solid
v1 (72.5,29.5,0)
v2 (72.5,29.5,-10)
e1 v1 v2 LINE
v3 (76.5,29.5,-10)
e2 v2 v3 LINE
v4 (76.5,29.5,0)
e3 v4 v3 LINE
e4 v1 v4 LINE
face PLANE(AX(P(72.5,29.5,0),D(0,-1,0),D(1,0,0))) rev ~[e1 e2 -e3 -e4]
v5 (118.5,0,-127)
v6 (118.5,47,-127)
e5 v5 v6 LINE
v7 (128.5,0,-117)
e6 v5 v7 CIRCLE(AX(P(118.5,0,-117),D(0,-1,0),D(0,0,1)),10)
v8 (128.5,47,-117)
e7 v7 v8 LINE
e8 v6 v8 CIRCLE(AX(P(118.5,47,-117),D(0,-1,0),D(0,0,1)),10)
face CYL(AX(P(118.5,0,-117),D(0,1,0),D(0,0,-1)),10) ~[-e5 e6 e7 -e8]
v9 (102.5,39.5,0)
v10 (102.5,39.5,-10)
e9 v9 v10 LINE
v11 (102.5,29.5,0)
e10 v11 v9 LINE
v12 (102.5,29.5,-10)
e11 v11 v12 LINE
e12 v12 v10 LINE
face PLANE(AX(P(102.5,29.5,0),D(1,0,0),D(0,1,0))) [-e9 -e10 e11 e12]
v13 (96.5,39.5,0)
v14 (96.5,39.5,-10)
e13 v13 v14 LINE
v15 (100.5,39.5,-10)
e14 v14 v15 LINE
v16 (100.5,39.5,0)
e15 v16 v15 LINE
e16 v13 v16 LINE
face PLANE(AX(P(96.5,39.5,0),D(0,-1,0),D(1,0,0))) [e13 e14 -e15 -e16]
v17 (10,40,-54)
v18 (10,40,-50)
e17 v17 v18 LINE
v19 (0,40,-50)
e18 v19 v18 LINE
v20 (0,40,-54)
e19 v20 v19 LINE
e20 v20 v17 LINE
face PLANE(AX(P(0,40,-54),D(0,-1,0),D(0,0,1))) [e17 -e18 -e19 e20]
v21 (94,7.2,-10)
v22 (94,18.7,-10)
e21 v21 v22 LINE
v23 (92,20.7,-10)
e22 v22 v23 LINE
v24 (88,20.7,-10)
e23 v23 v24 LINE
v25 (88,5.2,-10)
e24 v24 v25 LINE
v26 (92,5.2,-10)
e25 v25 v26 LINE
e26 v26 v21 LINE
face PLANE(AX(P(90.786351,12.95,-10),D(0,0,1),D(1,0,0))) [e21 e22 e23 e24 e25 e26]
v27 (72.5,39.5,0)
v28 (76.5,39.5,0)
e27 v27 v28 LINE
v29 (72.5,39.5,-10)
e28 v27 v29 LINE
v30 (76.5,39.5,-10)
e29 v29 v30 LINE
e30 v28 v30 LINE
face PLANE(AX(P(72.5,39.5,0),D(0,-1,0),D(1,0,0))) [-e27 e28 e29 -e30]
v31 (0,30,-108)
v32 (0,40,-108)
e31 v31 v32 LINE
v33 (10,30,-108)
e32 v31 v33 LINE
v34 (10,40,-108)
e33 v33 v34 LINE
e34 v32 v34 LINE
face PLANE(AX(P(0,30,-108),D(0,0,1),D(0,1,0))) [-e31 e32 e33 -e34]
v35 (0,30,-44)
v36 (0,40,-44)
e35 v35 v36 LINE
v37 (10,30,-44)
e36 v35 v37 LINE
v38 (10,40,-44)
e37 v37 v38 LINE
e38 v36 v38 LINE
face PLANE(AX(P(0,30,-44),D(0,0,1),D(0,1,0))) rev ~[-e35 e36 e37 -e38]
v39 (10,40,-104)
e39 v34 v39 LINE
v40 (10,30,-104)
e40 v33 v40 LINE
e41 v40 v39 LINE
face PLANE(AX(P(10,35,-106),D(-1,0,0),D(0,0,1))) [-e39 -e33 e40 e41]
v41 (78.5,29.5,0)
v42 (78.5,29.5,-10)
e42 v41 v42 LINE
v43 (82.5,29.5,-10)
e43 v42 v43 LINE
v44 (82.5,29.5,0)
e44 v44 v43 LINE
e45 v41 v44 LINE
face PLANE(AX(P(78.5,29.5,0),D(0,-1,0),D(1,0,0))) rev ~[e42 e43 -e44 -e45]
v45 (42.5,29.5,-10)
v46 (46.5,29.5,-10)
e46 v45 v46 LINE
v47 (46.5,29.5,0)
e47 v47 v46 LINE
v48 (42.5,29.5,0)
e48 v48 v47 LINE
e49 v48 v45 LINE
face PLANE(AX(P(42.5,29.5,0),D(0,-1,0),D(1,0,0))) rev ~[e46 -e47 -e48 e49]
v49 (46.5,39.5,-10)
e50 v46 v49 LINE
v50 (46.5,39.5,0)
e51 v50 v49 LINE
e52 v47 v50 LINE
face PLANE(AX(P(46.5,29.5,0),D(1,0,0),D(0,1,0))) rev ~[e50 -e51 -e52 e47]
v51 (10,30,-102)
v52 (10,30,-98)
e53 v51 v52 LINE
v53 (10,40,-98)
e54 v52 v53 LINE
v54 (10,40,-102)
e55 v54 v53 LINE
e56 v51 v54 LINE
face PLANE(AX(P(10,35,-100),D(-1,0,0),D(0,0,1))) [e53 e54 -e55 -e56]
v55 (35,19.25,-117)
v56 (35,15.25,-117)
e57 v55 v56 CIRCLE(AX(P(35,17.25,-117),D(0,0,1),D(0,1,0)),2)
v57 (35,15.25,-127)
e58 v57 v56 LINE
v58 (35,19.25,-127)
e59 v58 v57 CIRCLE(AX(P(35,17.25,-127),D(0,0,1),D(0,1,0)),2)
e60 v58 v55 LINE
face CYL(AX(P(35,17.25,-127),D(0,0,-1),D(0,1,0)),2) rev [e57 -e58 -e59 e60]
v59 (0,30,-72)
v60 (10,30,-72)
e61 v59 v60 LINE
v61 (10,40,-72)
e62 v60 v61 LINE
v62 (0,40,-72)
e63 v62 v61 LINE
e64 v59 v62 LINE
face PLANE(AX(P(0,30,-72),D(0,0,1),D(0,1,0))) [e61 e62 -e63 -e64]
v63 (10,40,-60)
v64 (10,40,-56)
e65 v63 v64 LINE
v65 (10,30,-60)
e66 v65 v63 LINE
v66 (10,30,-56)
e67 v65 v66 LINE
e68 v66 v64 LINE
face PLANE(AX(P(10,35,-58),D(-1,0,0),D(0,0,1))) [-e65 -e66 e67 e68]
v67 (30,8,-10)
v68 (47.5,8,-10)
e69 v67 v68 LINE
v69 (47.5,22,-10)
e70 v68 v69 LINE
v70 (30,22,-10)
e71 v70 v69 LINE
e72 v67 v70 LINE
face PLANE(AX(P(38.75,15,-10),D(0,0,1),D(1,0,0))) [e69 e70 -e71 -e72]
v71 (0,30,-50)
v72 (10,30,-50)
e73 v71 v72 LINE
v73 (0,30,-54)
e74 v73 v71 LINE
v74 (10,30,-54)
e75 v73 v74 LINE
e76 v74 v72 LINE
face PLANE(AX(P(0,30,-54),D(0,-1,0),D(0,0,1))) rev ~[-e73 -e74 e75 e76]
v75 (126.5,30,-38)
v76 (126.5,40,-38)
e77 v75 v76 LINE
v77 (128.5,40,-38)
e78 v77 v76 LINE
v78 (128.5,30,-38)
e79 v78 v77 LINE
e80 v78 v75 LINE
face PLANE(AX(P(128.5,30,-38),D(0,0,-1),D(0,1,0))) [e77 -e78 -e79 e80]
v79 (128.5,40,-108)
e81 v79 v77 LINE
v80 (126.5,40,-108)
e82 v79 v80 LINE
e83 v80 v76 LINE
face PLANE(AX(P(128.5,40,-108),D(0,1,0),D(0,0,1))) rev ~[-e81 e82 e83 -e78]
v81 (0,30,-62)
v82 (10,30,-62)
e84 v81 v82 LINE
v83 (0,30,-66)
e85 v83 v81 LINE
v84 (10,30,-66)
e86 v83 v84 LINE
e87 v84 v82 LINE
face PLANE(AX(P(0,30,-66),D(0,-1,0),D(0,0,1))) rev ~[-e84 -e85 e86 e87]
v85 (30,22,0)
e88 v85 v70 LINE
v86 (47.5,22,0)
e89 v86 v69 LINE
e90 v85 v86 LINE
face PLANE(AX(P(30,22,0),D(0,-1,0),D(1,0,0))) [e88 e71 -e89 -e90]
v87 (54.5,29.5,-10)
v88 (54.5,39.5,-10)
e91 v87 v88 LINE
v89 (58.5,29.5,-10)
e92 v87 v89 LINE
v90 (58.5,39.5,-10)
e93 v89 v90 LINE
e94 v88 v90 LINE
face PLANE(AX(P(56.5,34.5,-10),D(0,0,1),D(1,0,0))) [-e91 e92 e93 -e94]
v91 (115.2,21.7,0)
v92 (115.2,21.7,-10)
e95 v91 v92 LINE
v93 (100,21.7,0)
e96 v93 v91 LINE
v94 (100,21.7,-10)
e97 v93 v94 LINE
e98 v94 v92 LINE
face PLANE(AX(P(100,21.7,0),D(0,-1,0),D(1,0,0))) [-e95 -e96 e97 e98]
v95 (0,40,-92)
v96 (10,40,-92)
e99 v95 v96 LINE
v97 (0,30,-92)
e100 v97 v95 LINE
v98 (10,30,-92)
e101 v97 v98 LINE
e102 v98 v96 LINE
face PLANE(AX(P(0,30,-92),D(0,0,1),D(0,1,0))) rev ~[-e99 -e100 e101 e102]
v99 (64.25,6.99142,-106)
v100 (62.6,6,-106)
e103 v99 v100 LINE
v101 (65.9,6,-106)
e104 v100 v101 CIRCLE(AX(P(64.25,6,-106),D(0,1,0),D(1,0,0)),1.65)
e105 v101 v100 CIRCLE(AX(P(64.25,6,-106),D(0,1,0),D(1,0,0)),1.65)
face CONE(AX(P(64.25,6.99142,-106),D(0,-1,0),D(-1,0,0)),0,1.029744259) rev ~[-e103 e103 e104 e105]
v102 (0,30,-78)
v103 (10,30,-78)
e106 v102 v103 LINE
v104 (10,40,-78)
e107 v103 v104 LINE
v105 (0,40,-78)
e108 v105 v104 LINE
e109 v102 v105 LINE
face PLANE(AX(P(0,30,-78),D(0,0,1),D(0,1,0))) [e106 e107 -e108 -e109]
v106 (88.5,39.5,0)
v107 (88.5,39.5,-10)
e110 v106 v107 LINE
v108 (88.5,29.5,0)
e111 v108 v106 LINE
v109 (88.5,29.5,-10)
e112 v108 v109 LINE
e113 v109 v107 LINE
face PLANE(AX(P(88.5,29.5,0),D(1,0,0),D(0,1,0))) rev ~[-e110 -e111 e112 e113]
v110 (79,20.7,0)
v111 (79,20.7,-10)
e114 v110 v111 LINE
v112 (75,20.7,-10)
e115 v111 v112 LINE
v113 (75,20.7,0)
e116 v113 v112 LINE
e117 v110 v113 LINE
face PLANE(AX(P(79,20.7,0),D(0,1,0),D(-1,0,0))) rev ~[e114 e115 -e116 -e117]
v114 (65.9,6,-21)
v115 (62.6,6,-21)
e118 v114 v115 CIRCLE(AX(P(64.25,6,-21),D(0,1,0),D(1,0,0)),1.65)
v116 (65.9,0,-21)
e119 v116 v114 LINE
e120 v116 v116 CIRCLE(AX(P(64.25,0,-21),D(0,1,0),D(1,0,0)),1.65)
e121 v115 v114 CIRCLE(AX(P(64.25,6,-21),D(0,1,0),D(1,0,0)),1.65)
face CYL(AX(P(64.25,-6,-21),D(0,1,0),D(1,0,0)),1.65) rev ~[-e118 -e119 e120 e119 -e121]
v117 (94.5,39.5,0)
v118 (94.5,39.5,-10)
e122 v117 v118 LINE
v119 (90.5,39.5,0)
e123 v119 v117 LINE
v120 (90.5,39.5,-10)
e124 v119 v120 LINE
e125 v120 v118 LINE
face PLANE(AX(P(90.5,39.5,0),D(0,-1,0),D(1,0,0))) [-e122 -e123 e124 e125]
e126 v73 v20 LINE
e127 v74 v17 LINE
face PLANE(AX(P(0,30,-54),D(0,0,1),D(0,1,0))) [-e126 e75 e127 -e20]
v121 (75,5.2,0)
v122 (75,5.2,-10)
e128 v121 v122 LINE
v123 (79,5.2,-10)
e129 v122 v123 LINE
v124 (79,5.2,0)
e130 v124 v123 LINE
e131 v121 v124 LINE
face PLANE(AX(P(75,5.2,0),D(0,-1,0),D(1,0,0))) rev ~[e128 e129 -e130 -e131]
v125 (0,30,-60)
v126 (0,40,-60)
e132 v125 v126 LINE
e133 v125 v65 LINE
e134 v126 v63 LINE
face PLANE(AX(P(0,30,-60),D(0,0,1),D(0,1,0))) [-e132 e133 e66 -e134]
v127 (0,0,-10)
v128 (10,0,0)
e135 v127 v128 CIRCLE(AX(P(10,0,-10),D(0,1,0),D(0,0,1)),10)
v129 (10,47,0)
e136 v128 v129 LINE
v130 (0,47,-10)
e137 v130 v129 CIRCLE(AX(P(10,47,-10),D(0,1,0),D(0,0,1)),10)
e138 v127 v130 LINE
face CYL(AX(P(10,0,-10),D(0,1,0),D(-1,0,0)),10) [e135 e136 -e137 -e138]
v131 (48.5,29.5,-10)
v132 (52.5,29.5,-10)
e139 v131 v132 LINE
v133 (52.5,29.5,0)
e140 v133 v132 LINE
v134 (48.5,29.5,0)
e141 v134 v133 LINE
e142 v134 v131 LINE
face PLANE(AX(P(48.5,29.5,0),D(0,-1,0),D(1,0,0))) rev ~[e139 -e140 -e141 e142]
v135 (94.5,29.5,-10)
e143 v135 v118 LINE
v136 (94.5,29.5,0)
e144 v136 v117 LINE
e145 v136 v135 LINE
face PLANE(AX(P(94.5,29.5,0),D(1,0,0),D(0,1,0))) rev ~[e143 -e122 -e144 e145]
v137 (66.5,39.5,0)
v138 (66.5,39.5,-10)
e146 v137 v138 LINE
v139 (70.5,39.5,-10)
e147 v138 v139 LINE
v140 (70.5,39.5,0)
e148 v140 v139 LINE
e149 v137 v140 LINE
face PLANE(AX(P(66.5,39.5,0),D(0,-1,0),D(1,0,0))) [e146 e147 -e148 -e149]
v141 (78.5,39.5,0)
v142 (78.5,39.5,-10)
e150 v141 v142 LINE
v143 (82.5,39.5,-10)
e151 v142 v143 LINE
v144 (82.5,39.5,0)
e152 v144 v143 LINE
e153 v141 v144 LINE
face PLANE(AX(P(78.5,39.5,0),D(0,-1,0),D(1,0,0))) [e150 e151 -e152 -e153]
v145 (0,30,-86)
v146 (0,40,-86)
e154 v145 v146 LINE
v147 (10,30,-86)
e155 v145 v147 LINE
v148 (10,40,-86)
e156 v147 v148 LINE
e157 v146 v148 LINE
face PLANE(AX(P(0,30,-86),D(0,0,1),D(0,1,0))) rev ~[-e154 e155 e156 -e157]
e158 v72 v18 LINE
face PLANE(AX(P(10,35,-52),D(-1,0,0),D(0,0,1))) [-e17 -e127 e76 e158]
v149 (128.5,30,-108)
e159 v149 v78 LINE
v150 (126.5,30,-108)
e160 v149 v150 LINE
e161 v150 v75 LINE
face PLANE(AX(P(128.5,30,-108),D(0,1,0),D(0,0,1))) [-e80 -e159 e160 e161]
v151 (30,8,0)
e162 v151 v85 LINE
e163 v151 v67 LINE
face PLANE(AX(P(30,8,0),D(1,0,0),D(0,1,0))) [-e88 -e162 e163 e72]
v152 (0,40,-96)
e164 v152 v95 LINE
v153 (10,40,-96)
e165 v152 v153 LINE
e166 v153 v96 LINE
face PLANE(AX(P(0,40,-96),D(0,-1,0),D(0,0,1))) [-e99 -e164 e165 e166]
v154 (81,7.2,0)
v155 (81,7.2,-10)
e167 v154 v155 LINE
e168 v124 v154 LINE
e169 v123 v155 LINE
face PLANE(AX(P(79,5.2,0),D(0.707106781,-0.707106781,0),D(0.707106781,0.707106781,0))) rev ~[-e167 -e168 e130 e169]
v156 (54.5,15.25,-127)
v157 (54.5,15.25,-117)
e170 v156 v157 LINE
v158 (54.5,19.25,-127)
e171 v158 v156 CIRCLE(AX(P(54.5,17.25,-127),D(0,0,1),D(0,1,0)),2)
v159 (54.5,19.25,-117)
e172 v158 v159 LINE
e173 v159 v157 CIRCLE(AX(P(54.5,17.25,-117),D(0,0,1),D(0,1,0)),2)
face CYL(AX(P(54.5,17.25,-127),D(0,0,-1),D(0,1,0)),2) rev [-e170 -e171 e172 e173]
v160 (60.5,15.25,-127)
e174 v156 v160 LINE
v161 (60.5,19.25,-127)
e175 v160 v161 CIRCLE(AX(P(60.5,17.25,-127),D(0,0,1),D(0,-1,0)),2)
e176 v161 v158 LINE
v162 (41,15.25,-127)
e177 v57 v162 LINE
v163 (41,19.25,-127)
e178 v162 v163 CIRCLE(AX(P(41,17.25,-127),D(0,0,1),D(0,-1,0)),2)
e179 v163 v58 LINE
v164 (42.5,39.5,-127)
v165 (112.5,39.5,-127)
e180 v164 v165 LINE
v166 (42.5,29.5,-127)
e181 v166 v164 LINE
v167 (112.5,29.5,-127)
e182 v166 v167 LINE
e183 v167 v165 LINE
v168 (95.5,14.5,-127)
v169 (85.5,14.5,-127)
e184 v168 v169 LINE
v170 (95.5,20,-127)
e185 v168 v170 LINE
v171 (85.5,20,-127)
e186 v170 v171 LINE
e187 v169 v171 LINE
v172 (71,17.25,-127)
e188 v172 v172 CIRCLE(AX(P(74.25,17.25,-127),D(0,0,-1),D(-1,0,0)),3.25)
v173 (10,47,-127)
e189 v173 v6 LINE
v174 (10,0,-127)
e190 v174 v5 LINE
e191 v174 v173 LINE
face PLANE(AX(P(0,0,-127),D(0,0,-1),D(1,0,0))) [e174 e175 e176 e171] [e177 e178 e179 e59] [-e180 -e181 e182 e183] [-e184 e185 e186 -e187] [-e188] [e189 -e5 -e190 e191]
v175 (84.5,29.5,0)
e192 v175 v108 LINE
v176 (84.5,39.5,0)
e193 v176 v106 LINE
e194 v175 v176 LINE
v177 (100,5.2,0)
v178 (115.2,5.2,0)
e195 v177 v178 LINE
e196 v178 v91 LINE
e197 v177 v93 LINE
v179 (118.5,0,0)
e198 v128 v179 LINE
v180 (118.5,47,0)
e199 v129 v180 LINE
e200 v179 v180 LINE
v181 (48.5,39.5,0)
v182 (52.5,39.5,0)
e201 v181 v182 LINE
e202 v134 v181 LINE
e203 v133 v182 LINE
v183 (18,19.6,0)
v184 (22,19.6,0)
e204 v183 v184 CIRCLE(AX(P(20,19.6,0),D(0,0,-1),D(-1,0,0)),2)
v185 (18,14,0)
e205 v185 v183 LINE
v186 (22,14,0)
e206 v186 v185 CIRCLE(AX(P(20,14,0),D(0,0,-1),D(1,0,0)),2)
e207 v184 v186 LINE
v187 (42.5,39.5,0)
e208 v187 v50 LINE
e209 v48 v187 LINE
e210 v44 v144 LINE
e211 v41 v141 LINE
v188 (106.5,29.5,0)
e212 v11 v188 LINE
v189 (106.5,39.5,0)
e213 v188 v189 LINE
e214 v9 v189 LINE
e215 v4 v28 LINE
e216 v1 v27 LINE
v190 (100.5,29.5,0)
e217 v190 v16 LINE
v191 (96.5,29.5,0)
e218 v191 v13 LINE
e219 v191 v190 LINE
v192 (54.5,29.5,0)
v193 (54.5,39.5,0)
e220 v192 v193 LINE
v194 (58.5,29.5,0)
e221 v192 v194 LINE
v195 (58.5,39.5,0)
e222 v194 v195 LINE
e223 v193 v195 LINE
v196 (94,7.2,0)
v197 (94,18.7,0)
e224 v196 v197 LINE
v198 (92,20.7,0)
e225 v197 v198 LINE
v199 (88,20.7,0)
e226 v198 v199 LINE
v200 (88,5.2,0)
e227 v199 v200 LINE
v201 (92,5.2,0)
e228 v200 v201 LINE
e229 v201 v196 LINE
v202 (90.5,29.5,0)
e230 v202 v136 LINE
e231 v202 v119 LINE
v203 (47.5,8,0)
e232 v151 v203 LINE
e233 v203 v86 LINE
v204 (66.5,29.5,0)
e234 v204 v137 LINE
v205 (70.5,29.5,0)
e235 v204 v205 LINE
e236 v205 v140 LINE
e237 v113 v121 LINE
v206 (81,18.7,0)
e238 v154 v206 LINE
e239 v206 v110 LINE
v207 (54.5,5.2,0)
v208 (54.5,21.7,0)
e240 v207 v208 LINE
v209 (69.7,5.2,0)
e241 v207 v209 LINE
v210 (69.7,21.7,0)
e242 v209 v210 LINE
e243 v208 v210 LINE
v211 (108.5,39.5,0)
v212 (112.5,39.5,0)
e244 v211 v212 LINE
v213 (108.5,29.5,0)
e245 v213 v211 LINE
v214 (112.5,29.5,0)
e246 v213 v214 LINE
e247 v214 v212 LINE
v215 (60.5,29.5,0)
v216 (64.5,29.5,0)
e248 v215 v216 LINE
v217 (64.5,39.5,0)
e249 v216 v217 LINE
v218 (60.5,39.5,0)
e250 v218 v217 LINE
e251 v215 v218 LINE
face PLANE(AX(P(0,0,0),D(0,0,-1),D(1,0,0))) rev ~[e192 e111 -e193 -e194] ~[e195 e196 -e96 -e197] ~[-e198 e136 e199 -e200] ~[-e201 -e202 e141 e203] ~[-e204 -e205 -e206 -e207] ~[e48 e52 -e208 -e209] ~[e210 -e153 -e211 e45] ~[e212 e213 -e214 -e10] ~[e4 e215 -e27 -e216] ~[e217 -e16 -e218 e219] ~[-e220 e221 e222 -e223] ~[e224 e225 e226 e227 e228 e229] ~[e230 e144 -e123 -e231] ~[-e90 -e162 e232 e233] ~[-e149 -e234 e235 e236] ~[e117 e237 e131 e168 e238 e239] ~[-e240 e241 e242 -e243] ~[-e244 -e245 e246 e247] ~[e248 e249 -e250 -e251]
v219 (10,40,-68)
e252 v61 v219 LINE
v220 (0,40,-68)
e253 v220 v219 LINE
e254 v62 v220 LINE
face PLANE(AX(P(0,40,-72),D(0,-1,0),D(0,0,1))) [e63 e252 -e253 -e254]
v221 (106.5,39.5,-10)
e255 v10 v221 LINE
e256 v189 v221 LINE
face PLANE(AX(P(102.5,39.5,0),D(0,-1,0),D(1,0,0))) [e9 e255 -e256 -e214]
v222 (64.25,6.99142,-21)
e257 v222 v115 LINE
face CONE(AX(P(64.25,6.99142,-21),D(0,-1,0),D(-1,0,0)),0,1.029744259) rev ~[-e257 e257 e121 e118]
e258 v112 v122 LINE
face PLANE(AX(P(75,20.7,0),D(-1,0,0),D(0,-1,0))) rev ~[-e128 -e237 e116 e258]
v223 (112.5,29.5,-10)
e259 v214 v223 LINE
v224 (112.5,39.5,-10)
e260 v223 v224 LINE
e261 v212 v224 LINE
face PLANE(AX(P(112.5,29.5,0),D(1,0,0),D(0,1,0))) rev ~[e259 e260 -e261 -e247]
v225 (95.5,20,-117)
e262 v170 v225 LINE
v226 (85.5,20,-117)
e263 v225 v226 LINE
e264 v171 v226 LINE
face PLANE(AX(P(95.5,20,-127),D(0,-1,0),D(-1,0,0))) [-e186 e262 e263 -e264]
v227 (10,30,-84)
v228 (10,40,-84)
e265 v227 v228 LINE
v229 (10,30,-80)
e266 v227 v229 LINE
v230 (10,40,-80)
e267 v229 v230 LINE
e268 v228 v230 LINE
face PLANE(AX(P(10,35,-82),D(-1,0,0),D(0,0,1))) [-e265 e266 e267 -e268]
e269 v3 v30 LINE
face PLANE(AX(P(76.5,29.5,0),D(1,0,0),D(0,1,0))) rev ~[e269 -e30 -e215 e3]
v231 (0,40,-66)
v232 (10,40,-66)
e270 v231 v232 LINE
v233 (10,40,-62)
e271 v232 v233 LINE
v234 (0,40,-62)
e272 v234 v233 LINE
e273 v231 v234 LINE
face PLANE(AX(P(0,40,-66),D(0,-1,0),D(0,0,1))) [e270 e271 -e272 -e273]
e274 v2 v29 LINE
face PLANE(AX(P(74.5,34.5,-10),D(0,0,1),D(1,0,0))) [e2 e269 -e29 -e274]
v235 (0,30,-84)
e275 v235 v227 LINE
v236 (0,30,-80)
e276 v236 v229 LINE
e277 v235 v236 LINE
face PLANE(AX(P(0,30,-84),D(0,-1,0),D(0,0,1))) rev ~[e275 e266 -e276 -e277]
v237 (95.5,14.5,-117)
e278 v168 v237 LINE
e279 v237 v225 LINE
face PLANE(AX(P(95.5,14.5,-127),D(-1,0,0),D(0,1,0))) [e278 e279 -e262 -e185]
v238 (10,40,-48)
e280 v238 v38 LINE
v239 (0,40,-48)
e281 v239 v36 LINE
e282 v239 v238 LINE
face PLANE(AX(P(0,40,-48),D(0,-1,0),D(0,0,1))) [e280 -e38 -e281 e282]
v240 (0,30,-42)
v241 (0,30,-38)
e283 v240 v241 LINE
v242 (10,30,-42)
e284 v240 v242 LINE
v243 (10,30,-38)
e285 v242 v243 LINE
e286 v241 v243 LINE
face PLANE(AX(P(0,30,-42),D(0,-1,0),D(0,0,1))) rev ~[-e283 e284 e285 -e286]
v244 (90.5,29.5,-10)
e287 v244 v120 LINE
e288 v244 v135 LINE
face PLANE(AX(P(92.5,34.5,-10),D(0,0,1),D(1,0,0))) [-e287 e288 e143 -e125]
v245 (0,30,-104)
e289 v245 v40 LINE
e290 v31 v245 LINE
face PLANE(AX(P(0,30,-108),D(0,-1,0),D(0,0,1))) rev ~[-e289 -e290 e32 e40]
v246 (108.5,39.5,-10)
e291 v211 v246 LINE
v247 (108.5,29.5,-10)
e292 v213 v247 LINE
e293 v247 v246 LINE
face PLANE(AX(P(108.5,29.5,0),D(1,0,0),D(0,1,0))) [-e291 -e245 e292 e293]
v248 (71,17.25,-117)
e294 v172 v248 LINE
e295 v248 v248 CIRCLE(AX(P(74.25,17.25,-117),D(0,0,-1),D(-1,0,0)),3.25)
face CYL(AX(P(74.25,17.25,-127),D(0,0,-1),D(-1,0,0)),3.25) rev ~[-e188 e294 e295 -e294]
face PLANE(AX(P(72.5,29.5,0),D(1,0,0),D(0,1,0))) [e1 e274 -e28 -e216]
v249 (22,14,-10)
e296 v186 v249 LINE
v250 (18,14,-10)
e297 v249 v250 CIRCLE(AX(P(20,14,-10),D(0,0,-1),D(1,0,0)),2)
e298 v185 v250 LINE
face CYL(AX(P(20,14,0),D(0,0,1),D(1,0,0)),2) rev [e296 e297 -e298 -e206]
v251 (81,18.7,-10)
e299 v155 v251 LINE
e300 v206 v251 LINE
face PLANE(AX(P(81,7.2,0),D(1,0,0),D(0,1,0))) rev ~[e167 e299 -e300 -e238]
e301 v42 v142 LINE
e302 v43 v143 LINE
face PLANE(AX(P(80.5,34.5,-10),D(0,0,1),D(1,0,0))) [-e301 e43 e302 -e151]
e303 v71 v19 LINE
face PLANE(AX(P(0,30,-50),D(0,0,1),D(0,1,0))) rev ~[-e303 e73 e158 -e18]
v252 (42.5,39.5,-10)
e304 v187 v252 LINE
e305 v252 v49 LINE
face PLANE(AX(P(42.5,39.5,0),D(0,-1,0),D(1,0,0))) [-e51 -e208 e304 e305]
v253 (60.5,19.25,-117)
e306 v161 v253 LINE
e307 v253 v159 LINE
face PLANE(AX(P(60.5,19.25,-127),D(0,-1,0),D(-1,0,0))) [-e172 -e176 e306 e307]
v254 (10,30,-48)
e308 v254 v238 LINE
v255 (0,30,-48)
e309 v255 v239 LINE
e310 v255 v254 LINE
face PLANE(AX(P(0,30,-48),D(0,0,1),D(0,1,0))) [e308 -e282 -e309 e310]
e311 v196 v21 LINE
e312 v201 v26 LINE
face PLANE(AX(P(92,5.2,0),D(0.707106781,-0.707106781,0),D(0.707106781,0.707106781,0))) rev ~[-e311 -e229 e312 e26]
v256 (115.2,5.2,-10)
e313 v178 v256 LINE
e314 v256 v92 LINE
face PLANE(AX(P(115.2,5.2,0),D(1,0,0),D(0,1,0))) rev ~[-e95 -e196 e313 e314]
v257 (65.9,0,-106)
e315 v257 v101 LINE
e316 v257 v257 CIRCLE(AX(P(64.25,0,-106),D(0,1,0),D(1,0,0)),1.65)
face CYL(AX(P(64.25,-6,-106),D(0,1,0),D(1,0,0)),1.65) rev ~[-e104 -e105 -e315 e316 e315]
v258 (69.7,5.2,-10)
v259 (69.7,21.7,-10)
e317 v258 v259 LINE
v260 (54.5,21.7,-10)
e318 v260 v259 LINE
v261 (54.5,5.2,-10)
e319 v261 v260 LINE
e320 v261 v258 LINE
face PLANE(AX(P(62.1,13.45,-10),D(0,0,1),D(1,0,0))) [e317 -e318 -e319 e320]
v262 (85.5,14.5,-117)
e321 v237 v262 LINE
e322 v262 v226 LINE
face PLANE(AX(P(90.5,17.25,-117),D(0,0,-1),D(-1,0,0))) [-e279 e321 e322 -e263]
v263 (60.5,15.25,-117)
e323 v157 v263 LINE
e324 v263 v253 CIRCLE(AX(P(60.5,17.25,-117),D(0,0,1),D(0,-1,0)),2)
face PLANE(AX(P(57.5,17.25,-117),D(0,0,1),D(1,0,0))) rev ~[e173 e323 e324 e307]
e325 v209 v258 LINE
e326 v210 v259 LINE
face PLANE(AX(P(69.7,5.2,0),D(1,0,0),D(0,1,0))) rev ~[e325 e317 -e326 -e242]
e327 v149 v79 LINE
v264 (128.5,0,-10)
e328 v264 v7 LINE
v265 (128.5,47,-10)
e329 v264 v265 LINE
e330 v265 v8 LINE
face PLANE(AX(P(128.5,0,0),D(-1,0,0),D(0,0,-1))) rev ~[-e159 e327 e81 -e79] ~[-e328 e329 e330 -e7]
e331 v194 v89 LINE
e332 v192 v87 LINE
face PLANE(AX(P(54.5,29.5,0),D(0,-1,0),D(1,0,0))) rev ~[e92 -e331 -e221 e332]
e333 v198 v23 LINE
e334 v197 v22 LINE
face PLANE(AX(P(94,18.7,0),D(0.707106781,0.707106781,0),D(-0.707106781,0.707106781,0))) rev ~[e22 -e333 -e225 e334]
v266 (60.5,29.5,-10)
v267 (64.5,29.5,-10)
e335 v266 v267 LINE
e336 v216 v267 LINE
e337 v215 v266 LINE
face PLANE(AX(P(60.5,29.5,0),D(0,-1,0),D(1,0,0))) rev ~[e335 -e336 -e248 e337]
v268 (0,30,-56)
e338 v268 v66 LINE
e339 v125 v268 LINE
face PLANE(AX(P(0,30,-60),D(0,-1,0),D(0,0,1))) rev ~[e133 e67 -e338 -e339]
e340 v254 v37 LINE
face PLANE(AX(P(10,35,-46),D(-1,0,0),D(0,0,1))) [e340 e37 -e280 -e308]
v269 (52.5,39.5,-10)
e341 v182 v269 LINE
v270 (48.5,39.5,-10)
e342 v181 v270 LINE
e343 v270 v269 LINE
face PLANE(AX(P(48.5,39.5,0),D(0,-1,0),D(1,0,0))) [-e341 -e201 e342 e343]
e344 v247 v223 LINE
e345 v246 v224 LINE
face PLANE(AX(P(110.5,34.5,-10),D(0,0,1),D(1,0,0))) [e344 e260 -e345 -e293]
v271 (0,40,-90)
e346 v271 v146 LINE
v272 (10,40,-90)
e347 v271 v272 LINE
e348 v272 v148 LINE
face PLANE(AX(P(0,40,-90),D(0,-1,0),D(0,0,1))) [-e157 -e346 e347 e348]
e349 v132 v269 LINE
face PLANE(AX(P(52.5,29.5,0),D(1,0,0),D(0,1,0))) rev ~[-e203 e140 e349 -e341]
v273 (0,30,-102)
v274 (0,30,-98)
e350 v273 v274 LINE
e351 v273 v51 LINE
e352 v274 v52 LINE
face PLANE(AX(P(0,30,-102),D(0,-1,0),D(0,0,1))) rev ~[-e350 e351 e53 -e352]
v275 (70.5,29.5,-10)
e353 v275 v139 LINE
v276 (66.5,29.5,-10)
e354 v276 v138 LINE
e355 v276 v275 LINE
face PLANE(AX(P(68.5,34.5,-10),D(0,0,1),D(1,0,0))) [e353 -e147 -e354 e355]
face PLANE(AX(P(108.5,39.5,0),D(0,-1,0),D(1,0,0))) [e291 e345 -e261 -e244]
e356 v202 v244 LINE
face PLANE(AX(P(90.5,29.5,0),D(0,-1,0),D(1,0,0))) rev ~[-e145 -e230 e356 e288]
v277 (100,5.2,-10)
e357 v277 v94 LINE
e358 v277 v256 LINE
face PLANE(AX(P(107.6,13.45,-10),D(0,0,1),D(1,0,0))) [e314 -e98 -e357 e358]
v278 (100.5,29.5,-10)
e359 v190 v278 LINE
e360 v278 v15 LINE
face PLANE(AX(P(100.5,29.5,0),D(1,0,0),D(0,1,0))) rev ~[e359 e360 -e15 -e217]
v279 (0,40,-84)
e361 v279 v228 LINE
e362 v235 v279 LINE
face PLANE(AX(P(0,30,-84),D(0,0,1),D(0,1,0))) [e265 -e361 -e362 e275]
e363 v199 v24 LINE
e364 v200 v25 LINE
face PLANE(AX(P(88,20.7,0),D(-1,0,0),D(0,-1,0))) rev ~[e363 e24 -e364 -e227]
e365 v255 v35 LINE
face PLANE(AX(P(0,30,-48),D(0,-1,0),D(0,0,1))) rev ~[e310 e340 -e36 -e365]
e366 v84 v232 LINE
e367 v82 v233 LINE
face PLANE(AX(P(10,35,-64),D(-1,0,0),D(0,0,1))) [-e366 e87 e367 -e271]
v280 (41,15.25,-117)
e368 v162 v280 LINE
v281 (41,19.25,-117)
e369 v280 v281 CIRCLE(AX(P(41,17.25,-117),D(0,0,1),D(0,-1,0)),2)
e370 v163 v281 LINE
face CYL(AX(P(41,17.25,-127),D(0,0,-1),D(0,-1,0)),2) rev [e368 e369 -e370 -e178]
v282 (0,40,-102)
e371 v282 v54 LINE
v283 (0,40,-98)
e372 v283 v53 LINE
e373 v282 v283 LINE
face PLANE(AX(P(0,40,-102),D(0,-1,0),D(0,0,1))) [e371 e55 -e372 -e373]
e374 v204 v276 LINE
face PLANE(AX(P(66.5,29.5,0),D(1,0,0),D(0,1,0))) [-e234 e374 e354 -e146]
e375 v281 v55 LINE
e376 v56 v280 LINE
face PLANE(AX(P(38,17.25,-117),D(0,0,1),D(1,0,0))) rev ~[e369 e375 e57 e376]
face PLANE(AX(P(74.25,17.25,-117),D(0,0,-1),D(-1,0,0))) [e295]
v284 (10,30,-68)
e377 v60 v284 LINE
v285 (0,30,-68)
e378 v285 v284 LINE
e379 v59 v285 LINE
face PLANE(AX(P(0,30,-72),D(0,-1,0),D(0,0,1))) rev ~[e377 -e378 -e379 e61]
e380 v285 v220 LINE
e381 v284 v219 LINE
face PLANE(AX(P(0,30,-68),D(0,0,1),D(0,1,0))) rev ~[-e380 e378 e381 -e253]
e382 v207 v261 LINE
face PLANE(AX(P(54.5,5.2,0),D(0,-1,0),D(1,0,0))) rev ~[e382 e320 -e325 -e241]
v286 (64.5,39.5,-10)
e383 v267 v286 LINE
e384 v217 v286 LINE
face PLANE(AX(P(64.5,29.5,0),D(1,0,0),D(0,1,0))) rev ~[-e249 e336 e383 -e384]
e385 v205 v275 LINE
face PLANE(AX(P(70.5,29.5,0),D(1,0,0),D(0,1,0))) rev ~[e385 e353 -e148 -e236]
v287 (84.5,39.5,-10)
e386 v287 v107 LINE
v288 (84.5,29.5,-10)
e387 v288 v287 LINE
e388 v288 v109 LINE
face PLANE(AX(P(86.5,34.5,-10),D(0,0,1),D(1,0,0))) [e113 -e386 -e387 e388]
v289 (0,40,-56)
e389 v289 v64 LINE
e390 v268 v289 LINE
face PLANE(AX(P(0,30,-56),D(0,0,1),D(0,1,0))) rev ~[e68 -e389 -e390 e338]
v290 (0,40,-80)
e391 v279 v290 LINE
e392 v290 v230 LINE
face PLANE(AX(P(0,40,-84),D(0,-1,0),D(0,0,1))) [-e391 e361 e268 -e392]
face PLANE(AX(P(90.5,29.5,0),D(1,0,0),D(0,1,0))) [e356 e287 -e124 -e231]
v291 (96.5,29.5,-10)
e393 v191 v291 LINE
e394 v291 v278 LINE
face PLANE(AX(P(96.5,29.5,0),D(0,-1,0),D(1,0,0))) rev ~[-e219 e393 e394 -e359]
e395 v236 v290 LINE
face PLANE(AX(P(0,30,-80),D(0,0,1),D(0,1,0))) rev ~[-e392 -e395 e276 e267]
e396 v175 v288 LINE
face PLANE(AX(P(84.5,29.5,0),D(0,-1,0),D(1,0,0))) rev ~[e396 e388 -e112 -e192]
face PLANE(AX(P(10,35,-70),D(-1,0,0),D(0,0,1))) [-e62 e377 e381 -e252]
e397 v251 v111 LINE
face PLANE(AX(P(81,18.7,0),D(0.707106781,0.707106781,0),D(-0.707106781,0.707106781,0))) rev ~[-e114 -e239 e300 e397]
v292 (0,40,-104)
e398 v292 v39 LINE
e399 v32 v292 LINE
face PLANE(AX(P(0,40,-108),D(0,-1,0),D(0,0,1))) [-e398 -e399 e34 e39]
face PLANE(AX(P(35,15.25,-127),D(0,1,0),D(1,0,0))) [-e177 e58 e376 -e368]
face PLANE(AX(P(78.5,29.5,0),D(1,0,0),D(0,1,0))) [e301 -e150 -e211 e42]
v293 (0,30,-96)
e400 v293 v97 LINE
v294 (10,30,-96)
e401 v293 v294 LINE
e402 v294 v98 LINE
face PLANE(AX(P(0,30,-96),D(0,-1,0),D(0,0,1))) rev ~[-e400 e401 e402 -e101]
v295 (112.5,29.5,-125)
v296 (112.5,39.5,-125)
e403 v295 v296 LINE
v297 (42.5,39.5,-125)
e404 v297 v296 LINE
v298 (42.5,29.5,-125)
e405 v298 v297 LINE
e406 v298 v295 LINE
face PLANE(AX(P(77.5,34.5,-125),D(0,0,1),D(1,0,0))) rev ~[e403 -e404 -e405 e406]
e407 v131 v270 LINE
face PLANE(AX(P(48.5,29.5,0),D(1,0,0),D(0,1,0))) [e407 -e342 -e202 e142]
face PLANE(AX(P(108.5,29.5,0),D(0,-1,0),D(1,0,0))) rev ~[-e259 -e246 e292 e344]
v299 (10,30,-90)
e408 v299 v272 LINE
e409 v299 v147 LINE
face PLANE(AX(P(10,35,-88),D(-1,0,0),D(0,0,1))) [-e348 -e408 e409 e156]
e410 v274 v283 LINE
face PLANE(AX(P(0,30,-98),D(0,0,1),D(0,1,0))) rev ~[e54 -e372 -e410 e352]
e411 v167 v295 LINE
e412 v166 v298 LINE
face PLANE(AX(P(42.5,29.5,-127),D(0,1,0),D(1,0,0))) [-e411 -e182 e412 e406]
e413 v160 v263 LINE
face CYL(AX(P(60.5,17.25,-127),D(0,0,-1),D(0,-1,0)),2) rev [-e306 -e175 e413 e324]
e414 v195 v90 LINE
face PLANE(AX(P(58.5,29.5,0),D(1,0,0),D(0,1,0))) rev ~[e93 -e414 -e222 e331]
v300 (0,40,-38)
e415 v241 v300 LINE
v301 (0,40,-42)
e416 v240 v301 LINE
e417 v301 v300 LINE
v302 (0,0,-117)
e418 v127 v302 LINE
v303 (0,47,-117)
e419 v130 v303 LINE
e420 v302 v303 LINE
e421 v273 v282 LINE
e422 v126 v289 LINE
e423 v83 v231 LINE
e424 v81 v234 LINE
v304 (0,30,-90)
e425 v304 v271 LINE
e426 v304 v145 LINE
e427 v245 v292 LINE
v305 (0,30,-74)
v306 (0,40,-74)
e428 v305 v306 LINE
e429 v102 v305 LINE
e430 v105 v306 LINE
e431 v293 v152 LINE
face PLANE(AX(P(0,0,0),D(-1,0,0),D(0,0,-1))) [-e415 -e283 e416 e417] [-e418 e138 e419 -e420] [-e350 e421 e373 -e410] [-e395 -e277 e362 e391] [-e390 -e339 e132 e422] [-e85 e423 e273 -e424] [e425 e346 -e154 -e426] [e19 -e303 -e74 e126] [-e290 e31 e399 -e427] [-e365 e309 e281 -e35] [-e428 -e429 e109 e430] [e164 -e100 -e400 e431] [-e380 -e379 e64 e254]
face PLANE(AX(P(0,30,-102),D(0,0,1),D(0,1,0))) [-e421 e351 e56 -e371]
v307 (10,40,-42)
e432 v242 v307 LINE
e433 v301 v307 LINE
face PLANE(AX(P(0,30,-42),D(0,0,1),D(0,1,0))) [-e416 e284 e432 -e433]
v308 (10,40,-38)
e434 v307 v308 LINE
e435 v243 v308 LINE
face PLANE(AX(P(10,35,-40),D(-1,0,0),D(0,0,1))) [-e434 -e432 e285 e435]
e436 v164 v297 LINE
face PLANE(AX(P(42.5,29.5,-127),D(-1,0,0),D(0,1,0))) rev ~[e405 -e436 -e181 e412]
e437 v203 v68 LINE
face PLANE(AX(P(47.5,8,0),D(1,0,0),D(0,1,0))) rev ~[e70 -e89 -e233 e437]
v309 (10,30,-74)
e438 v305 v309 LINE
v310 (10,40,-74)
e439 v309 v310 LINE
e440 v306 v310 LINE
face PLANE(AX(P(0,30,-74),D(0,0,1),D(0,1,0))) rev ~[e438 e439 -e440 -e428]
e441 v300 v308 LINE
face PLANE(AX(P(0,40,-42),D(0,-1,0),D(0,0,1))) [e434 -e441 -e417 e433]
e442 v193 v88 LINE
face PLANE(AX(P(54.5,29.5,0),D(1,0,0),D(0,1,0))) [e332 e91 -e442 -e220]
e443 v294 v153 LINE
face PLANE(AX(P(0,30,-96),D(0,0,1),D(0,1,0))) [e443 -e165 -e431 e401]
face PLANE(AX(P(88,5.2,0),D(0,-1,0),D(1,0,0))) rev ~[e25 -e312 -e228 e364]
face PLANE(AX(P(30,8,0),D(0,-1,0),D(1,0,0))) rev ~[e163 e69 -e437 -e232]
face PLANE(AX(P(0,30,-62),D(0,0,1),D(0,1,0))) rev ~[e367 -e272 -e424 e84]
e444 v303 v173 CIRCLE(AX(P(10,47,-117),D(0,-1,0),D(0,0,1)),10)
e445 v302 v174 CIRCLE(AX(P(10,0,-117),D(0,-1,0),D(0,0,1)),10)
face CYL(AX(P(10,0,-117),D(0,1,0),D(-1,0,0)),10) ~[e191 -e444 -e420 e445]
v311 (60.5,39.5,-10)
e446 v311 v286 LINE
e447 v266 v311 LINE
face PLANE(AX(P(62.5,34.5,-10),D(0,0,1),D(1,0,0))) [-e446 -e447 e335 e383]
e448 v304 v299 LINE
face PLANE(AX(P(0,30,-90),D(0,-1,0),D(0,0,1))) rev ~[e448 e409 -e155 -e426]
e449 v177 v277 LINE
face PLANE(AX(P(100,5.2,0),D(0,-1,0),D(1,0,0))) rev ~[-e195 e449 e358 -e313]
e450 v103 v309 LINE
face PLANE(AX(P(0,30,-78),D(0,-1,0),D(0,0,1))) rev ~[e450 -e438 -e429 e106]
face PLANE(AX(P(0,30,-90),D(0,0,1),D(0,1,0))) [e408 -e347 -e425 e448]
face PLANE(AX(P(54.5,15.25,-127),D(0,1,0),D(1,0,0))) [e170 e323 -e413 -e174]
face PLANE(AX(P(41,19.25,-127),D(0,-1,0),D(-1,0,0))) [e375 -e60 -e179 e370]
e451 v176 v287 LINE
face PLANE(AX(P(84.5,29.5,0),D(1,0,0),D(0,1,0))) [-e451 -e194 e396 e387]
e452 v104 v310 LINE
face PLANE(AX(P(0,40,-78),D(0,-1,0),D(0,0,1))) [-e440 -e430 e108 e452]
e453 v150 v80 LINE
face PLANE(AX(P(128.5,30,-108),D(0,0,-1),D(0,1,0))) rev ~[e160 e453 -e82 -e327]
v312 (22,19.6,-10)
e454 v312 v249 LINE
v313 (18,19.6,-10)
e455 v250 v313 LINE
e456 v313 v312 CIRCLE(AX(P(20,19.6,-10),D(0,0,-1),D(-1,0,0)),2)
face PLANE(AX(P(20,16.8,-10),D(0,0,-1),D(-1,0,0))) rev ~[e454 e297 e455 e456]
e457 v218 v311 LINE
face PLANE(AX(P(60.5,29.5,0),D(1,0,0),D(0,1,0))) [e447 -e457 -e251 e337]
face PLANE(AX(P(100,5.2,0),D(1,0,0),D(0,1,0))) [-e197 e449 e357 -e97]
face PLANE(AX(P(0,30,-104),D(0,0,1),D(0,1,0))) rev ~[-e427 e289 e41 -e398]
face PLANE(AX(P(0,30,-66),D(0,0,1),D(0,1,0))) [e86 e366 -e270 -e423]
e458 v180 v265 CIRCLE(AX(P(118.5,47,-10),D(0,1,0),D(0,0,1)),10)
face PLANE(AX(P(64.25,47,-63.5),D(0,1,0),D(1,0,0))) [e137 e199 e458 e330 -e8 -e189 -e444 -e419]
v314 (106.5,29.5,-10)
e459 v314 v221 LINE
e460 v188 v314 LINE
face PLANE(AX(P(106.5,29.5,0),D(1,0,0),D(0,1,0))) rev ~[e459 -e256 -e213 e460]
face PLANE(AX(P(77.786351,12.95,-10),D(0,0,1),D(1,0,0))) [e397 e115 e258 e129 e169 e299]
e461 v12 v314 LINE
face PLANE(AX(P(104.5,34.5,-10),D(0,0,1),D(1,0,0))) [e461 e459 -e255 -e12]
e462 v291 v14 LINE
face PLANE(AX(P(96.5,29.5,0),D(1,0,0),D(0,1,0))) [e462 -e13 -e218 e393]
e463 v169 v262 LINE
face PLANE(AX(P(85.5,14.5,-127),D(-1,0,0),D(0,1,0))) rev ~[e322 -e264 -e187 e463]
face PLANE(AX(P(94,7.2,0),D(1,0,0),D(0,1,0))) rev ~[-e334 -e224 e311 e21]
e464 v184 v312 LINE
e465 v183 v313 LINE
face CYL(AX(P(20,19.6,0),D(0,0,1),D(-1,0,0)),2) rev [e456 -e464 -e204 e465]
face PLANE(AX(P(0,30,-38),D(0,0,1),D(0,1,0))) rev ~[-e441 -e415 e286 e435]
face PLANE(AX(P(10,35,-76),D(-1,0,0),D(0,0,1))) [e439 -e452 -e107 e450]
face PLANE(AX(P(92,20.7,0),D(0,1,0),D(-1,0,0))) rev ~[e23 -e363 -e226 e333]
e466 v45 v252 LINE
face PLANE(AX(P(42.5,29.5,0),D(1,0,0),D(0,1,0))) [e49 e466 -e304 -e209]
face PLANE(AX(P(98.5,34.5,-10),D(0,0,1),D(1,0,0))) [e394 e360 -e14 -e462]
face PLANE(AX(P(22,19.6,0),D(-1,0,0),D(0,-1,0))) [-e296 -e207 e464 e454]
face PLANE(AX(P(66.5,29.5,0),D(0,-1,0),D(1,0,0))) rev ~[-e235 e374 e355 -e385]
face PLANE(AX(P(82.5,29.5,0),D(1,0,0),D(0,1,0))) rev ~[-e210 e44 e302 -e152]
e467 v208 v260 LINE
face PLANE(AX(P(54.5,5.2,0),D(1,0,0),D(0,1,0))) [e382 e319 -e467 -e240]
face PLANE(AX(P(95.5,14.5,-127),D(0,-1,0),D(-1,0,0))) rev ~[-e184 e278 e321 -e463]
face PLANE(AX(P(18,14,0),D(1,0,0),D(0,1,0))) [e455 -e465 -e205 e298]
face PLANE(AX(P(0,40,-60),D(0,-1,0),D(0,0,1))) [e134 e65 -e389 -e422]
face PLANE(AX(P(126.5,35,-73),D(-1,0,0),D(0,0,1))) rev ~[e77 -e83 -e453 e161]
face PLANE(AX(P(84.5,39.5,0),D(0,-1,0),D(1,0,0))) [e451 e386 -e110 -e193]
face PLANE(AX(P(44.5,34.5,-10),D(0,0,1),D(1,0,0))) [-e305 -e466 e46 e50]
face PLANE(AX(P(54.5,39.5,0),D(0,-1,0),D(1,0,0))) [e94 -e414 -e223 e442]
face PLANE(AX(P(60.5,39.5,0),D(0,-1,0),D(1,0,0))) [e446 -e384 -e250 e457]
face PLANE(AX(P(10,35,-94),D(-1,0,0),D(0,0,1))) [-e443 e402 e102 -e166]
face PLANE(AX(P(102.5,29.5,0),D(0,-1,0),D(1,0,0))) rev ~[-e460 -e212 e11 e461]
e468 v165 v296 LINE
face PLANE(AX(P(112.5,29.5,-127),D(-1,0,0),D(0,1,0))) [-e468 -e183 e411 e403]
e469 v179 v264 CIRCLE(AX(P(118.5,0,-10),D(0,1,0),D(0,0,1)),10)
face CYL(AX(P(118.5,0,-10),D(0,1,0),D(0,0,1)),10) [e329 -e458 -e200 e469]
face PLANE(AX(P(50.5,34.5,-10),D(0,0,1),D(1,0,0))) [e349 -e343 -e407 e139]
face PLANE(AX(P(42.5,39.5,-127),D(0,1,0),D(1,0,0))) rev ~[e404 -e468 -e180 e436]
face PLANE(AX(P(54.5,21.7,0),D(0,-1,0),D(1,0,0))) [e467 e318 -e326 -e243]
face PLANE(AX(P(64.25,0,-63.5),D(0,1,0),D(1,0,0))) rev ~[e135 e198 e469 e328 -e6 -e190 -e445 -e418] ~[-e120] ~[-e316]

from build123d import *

# Parameters (mm, degrees)
SKETCH1_W                                     = 128.5
SKETCH1_H                                     = 127
GABARYT_DEPTH                                 = 47
SKETCH2_W                                     = 17.5
SKETCH2_H                                     = 14
SKETCH2_W_2                                   = 15.2
SKETCH2_H_2                                   = 16.5
PORTY_USBC_ETHERNET_2XUSBA_HDMI_HDMI_2X_DEPTH = 10
SKETCH3_W                                     = 4
SKETCH3_H                                     = 10
VENTS_OUTLET_1_DEPTH                          = 10
SKETCH4_W                                     = 4
SKETCH4_H                                     = 10
VENTS_OUTLET_2_DEPTH                          = 10
VENTS_START                                   = -127
SKETCH3_3_W                                   = 70
SKETCH3_3_H                                   = 10
VENTS_INLET_1_DEPTH                           = 2
VENTS_START_2                                 = -128.5
SKETCH4_3_W                                   = 70
SKETCH4_3_H                                   = 10
VENTS_INLET_2_DEPTH                           = 2
SKETCH5_R                                     = 3.25
SKETCH5_W                                     = 10
SKETCH5_H                                     = 5.5
PORTY_ON_AUDIOJACK_USBC_USBC_DEPTH            = 10
TAP_DRILL_FOR_M4_TAP1_D                       = 3.3
TAP_DRILL_FOR_M4_TAP1_DEPTH                   = 6
TAP_DRILL_FOR_M4_TAP1_TIP                     = 0.991420021
FILLET1_R                                     = 10


with BuildPart() as part:
    # Sketch1 → gabaryt (new body)
    with BuildSketch(Plane(origin=(0, 0, 0), x_dir=(1, 0, 0), z_dir=(0, 1, 0))):
        with Locations((64.25, 63.5)):
            Rectangle(SKETCH1_W, SKETCH1_H)
    extrude(amount=GABARYT_DEPTH)

    # Sketch2 → porty (usbc/ethernet/2xUSBa/hdmi/hdmi/2xUSBa) (cut)
    with BuildSketch(Plane.XY):
        with BuildLine():
            Line((22, 19.6), (22, 14))
            ThreePointArc((22, 14), (20, 12), (18, 14))
            Line((18, 14), (18, 19.6))
            ThreePointArc((18, 19.6), (20, 21.6), (22, 19.6))
        make_face()
        Polygon((75, 20.7), (75, 5.2), (79, 5.2), (81, 7.2), (81, 18.7), (79, 20.7), align=None)
        with Locations((38.75, 15)):
            Rectangle(SKETCH2_W, SKETCH2_H)
        with Locations((62.1, 13.45)):
            Rectangle(SKETCH2_W_2, SKETCH2_H_2)
        Polygon((88, 20.7), (88, 5.2), (92, 5.2), (94, 7.2), (94, 18.7), (92, 20.7), align=None)
        with Locations((107.6, 13.45)):
            Rectangle(SKETCH2_W_2, SKETCH2_H_2)
    extrude(amount=-PORTY_USBC_ETHERNET_2XUSBA_HDMI_HDMI_2X_DEPTH, mode=Mode.SUBTRACT)

    # Sketch3 → vents outlet 1 (cut)
    with BuildSketch(Plane.XY):
        with Locations((44.5, 34.5)):
            Rectangle(SKETCH3_W, SKETCH3_H)
        with Locations((50.5, 34.5)):
            Rectangle(SKETCH3_W, SKETCH3_H)
        with Locations((56.5, 34.5)):
            Rectangle(SKETCH3_W, SKETCH3_H)
        with Locations((62.5, 34.5)):
            Rectangle(SKETCH3_W, SKETCH3_H)
        with Locations((68.5, 34.5)):
            Rectangle(SKETCH3_W, SKETCH3_H)
        with Locations((74.5, 34.5)):
            Rectangle(SKETCH3_W, SKETCH3_H)
        with Locations((80.5, 34.5)):
            Rectangle(SKETCH3_W, SKETCH3_H)
        with Locations((86.5, 34.5)):
            Rectangle(SKETCH3_W, SKETCH3_H)
        with Locations((92.5, 34.5)):
            Rectangle(SKETCH3_W, SKETCH3_H)
        with Locations((98.5, 34.5)):
            Rectangle(SKETCH3_W, SKETCH3_H)
        with Locations((104.5, 34.5)):
            Rectangle(SKETCH3_W, SKETCH3_H)
        with Locations((110.5, 34.5)):
            Rectangle(SKETCH3_W, SKETCH3_H)
    extrude(amount=-VENTS_OUTLET_1_DEPTH, mode=Mode.SUBTRACT)

    # Sketch4 → vents outlet 2 (cut)
    with BuildSketch(Plane.ZY):
        with Locations((-106, 35)):
            Rectangle(SKETCH4_W, SKETCH4_H)
        with Locations((-100, 35)):
            Rectangle(SKETCH4_W, SKETCH4_H)
        with Locations((-94, 35)):
            Rectangle(SKETCH4_W, SKETCH4_H)
        with Locations((-88, 35)):
            Rectangle(SKETCH4_W, SKETCH4_H)
        with Locations((-82, 35)):
            Rectangle(SKETCH4_W, SKETCH4_H)
        with Locations((-76, 35)):
            Rectangle(SKETCH4_W, SKETCH4_H)
        with Locations((-70, 35)):
            Rectangle(SKETCH4_W, SKETCH4_H)
        with Locations((-64, 35)):
            Rectangle(SKETCH4_W, SKETCH4_H)
        with Locations((-58, 35)):
            Rectangle(SKETCH4_W, SKETCH4_H)
        with Locations((-52, 35)):
            Rectangle(SKETCH4_W, SKETCH4_H)
        with Locations((-46, 35)):
            Rectangle(SKETCH4_W, SKETCH4_H)
        with Locations((-40, 35)):
            Rectangle(SKETCH4_W, SKETCH4_H)
    extrude(amount=-VENTS_OUTLET_2_DEPTH, mode=Mode.SUBTRACT)

    # Sketch3<3> → vents inlet 1 (cut)
    with BuildSketch(Plane.XY.offset(VENTS_START)):
        with Locations((77.5, 34.5)):
            Rectangle(SKETCH3_3_W, SKETCH3_3_H)
    extrude(amount=VENTS_INLET_1_DEPTH, mode=Mode.SUBTRACT)

    # Sketch4<3> → vents inlet 2 (cut)
    with BuildSketch(Plane.ZY.offset(VENTS_START_2)):
        with Locations((-73, 35)):
            Rectangle(SKETCH4_3_W, SKETCH4_3_H)
    extrude(amount=VENTS_INLET_2_DEPTH, mode=Mode.SUBTRACT)

    # Sketch5 → porty (on/audiojack/USBc/USBc) (cut)
    with BuildSketch(Plane(origin=(0, 0, -127), x_dir=(-1, 0, 0), z_dir=(0, 0, -1))):
        with Locations((-74.25, 17.25)):
            Circle(SKETCH5_R)
        with Locations((-90.5, 17.25)):
            Rectangle(SKETCH5_W, SKETCH5_H)
        with BuildLine():
            Line((-60.5, 19.25), (-54.5, 19.25))
            ThreePointArc((-54.5, 19.25), (-52.5, 17.25), (-54.5, 15.25))
            Line((-54.5, 15.25), (-60.5, 15.25))
            ThreePointArc((-60.5, 15.25), (-62.5, 17.25), (-60.5, 19.25))
        make_face()
        with BuildLine():
            Line((-41, 19.25), (-35, 19.25))
            ThreePointArc((-35, 19.25), (-33, 17.25), (-35, 15.25))
            Line((-35, 15.25), (-41, 15.25))
            ThreePointArc((-41, 15.25), (-43, 17.25), (-41, 19.25))
        make_face()
    extrude(amount=-PORTY_ON_AUDIOJACK_USBC_USBC_DEPTH, mode=Mode.SUBTRACT)

    # Tap Drill for M4 Tap1
    with Locations(Plane(origin=(0, 0, 0), x_dir=(-1, 0, 0), z_dir=(0, -1, 0))):
        with Locations((-64.25, 106), (-64.25, 21)):
            Hole(TAP_DRILL_FOR_M4_TAP1_D / 2, depth=TAP_DRILL_FOR_M4_TAP1_DEPTH)
            with Locations((0, 0, -(TAP_DRILL_FOR_M4_TAP1_DEPTH + TAP_DRILL_FOR_M4_TAP1_TIP / 2))):  # 118° drill point
                Cone(0, TAP_DRILL_FOR_M4_TAP1_D / 2, TAP_DRILL_FOR_M4_TAP1_TIP, mode=Mode.SUBTRACT)

    # Fillet1
    fillet1_edges = [part.edges().sort_by_distance(p)[0] for p in [
        (0, 23.5, -127),
        (128.5, 23.5, -127),
        (128.5, 23.5, 0),
        (0, 23.5, 0),
    ]]
    fillet(fillet1_edges, radius=FILLET1_R)


solid = part.part
